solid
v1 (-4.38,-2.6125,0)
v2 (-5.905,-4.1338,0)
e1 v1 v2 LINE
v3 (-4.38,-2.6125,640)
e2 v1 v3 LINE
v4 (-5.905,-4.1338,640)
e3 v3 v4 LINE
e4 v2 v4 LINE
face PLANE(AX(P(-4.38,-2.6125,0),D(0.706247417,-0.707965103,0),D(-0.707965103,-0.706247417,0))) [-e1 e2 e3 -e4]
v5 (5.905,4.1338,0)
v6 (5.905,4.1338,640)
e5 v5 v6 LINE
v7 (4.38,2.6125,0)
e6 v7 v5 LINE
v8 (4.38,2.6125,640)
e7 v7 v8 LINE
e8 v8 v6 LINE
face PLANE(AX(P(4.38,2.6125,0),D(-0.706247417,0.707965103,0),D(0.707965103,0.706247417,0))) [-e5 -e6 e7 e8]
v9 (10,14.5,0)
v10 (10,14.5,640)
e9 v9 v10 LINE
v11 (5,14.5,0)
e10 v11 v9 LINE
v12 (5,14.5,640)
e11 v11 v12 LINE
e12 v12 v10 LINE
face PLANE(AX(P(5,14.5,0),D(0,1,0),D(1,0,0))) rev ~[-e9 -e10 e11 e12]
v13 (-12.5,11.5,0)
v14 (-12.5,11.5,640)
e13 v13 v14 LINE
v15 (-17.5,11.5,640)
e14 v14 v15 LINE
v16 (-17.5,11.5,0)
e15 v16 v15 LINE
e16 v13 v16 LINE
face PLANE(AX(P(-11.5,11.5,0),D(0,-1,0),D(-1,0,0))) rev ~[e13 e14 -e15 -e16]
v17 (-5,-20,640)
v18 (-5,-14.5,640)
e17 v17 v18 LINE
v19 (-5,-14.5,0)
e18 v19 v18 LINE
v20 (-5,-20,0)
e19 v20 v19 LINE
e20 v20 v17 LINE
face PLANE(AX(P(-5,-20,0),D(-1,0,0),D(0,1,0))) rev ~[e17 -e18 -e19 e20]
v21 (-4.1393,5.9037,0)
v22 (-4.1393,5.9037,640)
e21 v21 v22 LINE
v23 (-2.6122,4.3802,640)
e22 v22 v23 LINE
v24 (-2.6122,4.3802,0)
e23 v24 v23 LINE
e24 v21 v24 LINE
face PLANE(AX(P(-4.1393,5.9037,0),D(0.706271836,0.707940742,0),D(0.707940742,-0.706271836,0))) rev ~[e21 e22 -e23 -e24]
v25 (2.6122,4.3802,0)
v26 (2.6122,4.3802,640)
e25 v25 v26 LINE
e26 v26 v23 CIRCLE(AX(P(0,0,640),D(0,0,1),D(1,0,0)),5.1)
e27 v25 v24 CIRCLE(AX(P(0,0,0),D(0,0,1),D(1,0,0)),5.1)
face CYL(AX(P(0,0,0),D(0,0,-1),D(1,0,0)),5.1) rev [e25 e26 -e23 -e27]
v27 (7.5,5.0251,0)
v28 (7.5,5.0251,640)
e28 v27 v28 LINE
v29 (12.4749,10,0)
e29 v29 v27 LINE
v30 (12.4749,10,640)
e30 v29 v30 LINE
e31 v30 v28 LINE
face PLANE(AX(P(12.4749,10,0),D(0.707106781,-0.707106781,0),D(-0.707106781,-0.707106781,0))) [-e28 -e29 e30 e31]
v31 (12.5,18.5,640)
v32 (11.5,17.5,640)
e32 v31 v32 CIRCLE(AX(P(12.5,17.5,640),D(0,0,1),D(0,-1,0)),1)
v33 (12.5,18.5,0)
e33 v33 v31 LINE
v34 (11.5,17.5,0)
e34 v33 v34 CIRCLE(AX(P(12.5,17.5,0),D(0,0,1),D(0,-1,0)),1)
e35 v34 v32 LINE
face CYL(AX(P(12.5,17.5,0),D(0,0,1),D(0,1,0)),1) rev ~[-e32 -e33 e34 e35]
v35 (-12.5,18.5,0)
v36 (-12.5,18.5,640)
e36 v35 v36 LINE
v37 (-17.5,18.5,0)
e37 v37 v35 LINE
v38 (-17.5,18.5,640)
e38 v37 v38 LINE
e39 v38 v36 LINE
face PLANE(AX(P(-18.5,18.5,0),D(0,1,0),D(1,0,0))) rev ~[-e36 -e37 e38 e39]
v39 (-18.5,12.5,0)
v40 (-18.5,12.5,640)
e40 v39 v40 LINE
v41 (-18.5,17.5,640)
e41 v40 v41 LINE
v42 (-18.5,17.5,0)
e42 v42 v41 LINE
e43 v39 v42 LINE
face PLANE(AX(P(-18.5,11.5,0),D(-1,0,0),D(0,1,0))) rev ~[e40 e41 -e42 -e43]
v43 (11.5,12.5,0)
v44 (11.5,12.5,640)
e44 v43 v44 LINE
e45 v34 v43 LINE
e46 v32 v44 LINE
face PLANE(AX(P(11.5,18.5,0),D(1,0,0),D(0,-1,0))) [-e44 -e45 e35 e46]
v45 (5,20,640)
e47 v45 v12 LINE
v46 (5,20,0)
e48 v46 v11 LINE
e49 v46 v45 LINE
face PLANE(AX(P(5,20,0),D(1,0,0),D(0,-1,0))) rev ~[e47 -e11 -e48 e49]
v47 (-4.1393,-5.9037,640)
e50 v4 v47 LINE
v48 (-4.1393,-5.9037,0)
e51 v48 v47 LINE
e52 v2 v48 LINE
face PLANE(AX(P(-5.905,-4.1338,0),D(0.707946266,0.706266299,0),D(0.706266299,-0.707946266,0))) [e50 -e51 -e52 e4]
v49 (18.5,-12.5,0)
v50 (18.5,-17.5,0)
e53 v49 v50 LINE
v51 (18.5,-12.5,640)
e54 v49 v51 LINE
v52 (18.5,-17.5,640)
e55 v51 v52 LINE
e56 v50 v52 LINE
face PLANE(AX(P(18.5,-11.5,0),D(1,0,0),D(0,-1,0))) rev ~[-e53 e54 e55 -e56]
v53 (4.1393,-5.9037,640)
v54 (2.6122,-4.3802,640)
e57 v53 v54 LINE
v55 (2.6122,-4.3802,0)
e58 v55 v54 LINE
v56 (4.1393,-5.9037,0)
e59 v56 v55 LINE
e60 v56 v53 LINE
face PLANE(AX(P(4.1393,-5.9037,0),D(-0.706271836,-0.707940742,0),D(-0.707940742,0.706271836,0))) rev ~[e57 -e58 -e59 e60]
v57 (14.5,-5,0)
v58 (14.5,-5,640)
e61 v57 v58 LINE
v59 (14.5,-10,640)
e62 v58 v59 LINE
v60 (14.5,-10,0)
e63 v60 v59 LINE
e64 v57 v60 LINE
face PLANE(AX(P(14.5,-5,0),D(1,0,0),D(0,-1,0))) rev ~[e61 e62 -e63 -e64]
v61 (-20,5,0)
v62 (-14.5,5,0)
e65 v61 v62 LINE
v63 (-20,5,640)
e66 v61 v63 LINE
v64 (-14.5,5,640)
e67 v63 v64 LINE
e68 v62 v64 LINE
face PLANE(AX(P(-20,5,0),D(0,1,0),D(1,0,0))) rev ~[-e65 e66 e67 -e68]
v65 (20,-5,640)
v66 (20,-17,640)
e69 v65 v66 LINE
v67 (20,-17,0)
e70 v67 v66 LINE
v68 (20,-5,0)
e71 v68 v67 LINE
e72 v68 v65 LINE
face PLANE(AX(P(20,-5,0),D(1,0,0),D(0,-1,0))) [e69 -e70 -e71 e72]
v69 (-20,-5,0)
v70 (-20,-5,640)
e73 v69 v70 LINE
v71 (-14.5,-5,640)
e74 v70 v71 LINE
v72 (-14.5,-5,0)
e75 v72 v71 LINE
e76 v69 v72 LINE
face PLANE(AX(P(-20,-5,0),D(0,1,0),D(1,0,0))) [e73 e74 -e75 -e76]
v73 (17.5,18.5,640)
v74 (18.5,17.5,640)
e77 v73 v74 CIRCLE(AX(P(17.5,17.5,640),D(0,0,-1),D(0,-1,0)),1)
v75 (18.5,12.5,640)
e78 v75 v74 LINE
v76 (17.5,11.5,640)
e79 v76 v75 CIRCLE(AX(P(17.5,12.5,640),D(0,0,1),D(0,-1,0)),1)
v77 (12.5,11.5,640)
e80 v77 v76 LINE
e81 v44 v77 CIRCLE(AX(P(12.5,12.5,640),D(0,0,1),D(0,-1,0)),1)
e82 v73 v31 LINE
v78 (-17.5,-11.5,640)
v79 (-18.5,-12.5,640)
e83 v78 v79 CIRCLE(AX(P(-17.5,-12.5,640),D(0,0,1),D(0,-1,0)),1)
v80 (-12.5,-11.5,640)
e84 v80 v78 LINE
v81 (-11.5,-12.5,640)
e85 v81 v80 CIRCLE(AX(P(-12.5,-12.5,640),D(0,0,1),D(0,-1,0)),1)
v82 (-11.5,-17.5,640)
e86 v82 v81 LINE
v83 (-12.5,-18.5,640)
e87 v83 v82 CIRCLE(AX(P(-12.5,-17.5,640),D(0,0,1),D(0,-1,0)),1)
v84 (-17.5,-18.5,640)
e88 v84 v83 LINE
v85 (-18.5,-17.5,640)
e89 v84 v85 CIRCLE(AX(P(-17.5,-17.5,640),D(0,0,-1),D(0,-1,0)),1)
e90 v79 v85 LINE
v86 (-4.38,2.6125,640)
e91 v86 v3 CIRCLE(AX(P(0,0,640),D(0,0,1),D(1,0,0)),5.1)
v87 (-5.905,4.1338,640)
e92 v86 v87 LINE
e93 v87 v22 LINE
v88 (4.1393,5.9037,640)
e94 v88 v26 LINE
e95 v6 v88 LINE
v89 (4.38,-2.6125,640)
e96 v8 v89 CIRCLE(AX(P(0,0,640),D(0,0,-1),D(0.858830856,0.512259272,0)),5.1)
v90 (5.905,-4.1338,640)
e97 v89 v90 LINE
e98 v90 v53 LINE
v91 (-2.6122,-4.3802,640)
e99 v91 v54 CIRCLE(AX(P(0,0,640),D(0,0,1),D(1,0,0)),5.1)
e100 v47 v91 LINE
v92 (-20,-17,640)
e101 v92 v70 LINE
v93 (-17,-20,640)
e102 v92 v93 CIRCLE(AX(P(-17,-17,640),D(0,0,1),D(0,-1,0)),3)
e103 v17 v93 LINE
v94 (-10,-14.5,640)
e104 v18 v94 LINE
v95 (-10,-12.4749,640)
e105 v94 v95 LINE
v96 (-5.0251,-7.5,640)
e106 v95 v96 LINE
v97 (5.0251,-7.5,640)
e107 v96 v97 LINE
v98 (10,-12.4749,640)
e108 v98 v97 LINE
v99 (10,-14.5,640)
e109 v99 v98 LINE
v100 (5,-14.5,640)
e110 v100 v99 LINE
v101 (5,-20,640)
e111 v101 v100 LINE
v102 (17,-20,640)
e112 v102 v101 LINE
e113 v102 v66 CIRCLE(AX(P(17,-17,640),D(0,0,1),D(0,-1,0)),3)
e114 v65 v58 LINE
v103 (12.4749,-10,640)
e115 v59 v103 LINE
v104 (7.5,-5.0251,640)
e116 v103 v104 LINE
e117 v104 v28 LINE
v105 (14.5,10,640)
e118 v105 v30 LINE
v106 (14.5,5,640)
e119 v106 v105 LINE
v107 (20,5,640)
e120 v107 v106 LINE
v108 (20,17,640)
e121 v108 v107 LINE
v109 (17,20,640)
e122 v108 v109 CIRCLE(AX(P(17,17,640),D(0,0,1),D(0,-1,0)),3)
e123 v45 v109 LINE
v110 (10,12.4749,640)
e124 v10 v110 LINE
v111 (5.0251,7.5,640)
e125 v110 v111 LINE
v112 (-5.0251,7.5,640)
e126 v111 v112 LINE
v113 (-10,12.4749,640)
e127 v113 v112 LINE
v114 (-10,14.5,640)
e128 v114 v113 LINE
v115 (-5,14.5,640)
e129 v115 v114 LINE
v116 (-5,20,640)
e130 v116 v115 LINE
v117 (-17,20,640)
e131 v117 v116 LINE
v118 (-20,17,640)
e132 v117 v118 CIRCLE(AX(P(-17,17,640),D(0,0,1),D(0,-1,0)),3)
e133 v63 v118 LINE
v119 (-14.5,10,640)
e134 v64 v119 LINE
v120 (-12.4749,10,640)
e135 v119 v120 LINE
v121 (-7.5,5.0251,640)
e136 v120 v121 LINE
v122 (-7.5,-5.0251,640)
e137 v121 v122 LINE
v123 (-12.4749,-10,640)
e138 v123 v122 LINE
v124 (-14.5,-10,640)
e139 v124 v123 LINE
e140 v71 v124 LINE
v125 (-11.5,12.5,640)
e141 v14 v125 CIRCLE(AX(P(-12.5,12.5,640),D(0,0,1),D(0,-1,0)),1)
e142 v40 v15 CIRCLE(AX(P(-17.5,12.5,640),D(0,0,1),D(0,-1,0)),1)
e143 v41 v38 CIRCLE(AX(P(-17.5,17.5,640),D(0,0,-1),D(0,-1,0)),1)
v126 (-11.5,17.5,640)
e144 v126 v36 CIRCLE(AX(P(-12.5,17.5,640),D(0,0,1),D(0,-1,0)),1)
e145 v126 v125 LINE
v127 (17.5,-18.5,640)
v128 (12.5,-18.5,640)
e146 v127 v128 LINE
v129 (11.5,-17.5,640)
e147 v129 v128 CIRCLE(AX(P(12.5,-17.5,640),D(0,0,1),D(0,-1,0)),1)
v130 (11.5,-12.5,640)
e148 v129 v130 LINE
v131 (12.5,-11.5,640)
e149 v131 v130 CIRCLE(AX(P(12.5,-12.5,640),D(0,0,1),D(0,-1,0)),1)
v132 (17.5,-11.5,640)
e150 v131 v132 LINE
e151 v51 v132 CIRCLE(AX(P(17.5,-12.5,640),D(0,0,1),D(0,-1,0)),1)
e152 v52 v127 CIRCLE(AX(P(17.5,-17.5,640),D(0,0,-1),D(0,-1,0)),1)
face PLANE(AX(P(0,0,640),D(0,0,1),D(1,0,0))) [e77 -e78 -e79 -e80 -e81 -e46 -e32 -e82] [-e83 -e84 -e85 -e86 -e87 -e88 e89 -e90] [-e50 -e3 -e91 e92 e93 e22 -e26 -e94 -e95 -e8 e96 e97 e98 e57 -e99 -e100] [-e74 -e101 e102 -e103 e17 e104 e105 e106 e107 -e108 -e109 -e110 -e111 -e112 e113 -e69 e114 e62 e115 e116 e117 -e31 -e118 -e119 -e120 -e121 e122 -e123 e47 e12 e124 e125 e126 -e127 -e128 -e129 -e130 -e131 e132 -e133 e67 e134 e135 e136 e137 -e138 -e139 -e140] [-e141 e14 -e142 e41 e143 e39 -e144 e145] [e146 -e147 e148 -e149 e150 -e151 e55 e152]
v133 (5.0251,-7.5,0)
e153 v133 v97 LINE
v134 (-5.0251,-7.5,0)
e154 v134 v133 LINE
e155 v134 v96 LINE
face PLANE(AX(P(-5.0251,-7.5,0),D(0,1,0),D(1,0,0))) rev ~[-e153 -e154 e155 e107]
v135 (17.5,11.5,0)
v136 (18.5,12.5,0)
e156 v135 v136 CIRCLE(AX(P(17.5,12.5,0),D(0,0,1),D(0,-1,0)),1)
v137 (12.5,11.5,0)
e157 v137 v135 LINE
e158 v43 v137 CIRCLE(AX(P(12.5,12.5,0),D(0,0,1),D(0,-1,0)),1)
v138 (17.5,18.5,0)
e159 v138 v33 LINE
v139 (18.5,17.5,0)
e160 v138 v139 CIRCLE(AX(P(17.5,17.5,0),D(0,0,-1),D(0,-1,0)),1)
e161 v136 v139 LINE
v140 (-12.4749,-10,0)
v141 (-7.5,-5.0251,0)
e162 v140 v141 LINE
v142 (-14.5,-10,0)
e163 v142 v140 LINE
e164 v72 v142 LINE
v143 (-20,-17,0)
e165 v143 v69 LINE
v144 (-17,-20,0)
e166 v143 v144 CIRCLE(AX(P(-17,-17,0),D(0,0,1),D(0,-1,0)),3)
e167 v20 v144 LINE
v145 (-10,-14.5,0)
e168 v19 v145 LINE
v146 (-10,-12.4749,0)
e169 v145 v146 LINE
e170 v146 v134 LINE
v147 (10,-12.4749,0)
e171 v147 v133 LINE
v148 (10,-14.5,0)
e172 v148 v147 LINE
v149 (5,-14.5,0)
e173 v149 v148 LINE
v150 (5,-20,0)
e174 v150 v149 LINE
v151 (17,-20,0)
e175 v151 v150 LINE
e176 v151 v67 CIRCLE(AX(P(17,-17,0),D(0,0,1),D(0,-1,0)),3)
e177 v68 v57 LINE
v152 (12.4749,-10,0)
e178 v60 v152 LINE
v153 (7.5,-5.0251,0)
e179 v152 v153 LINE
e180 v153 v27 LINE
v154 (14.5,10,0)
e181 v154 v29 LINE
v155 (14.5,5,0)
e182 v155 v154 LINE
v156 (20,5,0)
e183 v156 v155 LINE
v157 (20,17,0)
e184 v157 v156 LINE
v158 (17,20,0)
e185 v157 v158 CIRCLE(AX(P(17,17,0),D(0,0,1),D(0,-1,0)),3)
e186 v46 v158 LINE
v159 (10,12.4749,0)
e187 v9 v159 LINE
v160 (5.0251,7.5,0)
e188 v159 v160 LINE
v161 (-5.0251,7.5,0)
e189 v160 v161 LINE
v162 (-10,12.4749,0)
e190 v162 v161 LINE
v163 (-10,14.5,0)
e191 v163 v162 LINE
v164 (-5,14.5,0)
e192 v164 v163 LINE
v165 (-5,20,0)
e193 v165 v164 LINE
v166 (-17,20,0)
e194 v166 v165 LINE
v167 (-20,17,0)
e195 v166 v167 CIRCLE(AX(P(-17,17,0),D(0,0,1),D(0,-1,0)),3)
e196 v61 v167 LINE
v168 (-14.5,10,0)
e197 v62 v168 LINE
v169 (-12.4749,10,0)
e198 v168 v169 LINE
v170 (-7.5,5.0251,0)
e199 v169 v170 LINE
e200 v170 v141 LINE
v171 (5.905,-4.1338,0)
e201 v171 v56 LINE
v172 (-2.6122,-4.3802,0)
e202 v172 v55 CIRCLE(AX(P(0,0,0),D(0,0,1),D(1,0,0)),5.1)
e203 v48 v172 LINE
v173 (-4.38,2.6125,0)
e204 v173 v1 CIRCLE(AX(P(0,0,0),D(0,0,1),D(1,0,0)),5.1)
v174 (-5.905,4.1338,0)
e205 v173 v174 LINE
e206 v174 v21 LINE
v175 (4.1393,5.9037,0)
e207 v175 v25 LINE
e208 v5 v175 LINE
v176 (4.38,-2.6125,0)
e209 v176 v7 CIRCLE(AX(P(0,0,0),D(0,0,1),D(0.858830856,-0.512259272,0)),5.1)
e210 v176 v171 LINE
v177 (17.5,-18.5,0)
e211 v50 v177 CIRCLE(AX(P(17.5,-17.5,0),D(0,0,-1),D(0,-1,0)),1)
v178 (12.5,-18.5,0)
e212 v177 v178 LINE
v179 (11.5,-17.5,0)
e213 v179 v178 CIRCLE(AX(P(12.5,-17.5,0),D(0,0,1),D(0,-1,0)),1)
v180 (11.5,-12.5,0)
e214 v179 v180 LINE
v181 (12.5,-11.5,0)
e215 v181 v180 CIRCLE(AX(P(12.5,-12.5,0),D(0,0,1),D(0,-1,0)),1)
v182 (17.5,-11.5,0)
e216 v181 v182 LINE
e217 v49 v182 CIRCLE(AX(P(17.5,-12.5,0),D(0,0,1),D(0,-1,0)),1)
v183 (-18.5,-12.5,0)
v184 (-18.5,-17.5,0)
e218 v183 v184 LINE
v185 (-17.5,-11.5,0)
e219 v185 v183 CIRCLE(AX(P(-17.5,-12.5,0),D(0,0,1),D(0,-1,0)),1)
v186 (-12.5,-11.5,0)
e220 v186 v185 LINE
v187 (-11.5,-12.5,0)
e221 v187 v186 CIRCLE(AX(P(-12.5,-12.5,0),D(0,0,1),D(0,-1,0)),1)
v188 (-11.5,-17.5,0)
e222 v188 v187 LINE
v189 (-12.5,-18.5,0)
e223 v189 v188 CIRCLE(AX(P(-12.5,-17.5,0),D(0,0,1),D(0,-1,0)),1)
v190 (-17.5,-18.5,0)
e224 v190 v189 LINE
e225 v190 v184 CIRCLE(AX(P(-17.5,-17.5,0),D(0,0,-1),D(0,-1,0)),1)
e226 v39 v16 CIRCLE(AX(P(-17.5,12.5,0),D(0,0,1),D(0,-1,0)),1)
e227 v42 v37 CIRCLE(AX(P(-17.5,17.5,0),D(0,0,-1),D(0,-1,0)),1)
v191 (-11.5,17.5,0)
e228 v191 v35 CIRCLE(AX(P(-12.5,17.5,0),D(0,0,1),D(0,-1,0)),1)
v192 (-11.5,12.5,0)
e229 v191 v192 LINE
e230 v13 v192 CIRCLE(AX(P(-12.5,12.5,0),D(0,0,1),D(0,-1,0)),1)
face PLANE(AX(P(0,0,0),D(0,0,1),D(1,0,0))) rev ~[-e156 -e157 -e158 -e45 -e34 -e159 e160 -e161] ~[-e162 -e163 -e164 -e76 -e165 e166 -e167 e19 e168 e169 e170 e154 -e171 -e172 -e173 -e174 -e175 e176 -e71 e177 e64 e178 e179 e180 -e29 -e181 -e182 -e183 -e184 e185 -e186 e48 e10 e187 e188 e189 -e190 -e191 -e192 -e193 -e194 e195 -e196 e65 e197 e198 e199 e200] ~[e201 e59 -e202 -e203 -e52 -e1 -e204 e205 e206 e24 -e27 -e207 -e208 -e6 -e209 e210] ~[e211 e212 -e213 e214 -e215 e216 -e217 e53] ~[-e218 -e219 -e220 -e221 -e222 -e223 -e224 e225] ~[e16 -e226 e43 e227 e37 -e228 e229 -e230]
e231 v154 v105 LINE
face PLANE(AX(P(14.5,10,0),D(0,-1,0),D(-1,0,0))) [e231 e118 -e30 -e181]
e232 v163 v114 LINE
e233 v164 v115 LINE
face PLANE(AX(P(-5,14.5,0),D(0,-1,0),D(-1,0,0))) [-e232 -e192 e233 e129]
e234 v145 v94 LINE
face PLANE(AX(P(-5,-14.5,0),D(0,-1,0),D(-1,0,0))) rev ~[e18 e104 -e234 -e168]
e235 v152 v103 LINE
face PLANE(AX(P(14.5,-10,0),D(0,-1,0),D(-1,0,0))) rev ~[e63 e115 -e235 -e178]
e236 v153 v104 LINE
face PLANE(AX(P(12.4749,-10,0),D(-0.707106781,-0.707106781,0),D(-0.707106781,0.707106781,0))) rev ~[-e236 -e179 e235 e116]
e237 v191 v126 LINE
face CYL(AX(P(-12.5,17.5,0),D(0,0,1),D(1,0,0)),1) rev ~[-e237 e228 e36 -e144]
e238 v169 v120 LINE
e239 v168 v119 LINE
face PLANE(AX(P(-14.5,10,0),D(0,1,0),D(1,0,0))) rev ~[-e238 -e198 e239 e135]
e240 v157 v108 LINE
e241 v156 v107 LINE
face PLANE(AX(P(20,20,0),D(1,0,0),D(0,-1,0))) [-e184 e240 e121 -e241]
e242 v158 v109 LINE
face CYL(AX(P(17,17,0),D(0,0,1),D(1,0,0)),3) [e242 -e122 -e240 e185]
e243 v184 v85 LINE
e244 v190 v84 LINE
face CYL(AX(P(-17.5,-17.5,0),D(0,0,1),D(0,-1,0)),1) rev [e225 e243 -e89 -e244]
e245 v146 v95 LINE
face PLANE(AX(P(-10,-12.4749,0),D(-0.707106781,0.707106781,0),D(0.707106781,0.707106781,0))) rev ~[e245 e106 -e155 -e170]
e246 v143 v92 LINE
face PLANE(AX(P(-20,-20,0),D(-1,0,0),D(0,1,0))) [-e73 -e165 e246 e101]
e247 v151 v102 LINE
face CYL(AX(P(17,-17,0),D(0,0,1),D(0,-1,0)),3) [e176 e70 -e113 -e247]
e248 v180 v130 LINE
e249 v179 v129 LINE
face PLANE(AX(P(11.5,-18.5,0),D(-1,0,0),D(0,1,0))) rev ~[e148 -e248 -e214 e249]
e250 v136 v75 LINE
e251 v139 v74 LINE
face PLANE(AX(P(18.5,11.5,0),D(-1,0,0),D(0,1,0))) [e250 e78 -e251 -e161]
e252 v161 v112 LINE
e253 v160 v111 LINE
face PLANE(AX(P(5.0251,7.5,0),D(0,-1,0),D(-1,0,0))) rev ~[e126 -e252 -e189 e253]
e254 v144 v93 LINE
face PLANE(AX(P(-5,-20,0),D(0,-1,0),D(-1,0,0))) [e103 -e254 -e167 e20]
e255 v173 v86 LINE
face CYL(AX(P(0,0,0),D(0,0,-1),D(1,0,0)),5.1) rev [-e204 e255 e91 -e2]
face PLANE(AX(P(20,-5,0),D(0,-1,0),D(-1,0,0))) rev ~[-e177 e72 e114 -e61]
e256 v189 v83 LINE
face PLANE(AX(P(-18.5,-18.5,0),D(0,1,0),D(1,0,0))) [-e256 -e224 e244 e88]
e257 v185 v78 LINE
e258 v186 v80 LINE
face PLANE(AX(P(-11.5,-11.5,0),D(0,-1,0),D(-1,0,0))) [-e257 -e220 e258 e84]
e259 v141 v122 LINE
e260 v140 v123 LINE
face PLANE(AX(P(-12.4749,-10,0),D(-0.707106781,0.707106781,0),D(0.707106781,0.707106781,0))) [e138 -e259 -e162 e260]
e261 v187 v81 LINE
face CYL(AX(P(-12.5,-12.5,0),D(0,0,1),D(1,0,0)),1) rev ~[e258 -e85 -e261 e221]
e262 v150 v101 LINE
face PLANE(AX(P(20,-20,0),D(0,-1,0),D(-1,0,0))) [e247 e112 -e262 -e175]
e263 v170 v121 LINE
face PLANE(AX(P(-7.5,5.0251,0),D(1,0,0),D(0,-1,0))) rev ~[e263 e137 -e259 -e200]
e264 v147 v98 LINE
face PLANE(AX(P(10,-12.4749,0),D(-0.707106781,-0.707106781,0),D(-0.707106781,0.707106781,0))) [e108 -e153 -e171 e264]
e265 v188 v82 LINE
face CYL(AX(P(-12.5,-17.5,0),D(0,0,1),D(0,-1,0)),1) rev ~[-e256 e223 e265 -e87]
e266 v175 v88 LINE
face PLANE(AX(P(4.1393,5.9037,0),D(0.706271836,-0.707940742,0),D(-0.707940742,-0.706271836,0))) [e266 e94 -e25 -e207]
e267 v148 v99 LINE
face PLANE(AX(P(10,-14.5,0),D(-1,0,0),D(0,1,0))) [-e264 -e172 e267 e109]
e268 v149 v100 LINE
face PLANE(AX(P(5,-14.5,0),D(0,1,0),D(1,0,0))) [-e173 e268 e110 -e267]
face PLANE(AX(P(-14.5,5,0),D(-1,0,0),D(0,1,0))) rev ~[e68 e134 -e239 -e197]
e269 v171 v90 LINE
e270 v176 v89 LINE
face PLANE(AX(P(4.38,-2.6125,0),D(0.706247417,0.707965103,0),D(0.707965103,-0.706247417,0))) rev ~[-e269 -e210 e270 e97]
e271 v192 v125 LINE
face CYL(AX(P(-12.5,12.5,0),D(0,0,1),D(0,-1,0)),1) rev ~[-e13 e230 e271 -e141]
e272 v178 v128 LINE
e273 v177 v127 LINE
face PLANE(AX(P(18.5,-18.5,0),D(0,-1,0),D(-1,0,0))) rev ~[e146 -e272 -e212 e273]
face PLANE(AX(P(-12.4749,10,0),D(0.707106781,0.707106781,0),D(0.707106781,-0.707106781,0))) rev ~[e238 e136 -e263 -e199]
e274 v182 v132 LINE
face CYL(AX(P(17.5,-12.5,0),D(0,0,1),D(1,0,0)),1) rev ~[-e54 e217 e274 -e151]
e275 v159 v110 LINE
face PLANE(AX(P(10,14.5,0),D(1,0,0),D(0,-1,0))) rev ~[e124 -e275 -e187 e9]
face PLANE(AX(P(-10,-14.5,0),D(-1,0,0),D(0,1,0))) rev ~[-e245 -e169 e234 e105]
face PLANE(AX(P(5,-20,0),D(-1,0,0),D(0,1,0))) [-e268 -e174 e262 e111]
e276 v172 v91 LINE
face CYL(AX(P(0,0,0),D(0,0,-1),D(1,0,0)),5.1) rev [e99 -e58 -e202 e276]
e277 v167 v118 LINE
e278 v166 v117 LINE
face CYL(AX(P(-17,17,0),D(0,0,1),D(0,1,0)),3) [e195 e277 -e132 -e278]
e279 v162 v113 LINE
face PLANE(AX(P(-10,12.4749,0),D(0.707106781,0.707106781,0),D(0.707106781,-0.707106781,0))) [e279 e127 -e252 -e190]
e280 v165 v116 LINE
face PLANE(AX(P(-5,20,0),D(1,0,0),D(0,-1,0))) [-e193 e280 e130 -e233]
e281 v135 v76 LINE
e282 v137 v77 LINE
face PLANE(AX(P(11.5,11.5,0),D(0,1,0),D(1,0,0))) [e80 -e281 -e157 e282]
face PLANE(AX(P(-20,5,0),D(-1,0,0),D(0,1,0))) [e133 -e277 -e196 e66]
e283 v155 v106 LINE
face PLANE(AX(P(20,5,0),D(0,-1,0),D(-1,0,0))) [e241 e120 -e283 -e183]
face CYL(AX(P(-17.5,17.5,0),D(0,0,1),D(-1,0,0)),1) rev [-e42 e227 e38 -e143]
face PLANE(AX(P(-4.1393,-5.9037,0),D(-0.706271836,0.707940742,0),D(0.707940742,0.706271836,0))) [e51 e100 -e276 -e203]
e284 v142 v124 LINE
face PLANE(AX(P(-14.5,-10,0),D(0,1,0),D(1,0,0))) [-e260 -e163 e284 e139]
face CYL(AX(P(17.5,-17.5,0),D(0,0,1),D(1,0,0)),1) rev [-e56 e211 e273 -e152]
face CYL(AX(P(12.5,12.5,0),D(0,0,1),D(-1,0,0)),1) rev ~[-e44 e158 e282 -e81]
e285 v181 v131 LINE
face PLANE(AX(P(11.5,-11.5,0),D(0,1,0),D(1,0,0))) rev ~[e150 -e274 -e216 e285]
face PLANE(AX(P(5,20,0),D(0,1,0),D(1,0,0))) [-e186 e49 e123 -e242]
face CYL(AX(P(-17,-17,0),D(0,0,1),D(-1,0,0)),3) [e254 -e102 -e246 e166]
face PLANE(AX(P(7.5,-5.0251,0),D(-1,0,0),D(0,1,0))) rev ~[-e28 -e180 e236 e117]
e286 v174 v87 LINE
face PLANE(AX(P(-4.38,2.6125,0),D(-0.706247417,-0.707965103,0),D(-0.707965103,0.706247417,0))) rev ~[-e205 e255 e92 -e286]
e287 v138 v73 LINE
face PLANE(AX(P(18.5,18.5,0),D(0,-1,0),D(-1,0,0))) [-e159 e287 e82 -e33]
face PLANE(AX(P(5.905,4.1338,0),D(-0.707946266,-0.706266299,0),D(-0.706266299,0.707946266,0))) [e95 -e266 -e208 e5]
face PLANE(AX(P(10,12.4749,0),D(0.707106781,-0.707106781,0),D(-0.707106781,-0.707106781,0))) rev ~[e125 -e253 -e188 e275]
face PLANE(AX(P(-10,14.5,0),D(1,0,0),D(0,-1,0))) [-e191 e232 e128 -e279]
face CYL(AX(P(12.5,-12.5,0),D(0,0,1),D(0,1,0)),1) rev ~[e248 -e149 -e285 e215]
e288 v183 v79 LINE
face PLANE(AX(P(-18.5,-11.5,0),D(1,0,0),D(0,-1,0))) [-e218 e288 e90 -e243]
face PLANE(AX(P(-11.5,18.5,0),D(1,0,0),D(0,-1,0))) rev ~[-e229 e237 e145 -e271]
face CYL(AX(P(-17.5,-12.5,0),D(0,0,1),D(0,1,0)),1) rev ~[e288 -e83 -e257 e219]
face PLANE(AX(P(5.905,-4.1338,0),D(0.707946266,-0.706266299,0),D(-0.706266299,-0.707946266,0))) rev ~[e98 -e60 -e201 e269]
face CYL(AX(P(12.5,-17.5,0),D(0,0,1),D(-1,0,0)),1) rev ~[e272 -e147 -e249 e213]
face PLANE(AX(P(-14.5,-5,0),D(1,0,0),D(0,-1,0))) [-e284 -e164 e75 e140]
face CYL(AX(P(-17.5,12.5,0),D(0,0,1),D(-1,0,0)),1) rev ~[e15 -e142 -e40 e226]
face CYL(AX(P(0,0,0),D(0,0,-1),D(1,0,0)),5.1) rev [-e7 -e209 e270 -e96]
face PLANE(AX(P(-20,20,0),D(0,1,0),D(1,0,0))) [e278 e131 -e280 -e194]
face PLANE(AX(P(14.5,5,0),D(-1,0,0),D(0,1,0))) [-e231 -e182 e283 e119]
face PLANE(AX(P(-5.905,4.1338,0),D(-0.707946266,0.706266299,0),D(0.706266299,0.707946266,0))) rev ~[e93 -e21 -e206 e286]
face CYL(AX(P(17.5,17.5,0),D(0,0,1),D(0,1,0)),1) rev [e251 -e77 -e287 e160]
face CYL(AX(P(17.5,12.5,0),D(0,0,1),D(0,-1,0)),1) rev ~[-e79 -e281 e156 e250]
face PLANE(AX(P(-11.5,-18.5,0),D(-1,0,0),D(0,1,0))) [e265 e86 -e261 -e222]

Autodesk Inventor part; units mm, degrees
ref_plane "YZ Plane" through (0, 0, 0) normal (1, 0, 0) x (0, 1, 0)
ref_plane "XZ Plane" through (0, 0, 0) normal (0, 1, 0) x (-1, 0, 0)
ref_plane "XY Plane" through (0, 0, 0) normal (0, 0, 1) x (1, 0, 0)
sketch "T-Slot 4040 Base" plane through (0, 0, 0) normal (0, 0, 1) x (1, 0, 0)
  line L0 (-28, 0) -> (28, 0) construction
  line L1 (0, -28) -> (0, 28) construction
  circle A0 centre (0, 0) radius 5.1
  line L2 (-7.5, -7.5) -> (7.5, -7.5)
  line L3 (7.5, -7.5) -> (7.5, 7.5)
  line L4 (7.5, 7.5) -> (-7.5, 7.5)
  line L5 (-7.5, 7.5) -> (-7.5, -7.5)
  line L6 (-7.5, -7.5) -> (7.5, 7.5) construction
  line L7 (7.5, -7.5) -> (-7.5, 7.5) construction
  line L8 (-20, 20) -> (20, 20)
  line L9 (20, 20) -> (20, -20)
  line L10 (20, -20) -> (-20, -20)
  line L11 (-20, -20) -> (-20, 20)
  line L12 (-20, 20) -> (20, -20) construction
  line L13 (20, 20) -> (-20, -20) construction
  line L14 (20, 5) -> (14.5, 5)
  line L15 (14.5, 5) -> (14.5, 10)
  line L16 (14.5, 10) -> (12.4749, 10)
  line L17 (12.4749, 10) -> (7.5, 5.0251)
  line L18 (5, 20) -> (5, 14.5)
  line L19 (5, 14.5) -> (10, 14.5)
  line L20 (10, 14.5) -> (10, 12.4749)
  line L21 (10, 12.4749) -> (5.0251, 7.5)
  line L22 (18.5, 18.5) -> (11.5, 18.5)
  line L23 (11.5, 18.5) -> (11.5, 11.5)
  line L24 (11.5, 11.5) -> (18.5, 11.5)
  line L25 (18.5, 11.5) -> (18.5, 18.5)
  line L26 (18.5, 18.5) -> (11.5, 11.5) construction
  line L27 (11.5, 18.5) -> (18.5, 11.5) construction
  line L28 (3.0732, 1.3088) -> (4.38, 2.6125) construction
  line L29 (5.905, 4.1338) -> (4.1393, 5.9037)
  line L30 (4.1393, 5.9037) -> (2.6122, 4.3802)
  line L31 (1.3075, 3.0787) -> (3.0732, 1.3088) construction
  line L32 (3.0732, 1.3088) -> (4.1393, 5.9037) construction
  line L33 (5.905, 4.1338) -> (1.3075, 3.0787) construction
  line L34 (4.38, 2.6125) -> (5.905, 4.1338)
  line L35 (2.6122, 4.3802) -> (1.3075, 3.0787) construction
  line L36 (-20, 5) -> (-14.5, 5)
  line L37 (-14.5, 5) -> (-14.5, 10)
  line L38 (-14.5, 10) -> (-12.4749, 10)
  line L39 (-12.4749, 10) -> (-7.5, 5.0251)
  line L40 (-5, 20) -> (-5, 14.5)
  line L41 (-5, 14.5) -> (-10, 14.5)
  line L42 (-10, 14.5) -> (-10, 12.4749)
  line L43 (-10, 12.4749) -> (-5.0251, 7.5)
  line L44 (-18.5, 18.5) -> (-11.5, 18.5)
  line L45 (-11.5, 18.5) -> (-11.5, 11.5)
  line L46 (-11.5, 11.5) -> (-18.5, 11.5)
  line L47 (-18.5, 11.5) -> (-18.5, 18.5)
  line L48 (-5.905, 4.1338) -> (-4.1393, 5.9037)
  line L49 (-4.1393, 5.9037) -> (-2.6122, 4.3802)
  line L50 (-4.38, 2.6125) -> (-5.905, 4.1338)
  line L51 (7.5, -7.5) -> (-7.5, -7.5)
  line L52 (20, -5) -> (14.5, -5)
  line L53 (14.5, -5) -> (14.5, -10)
  line L54 (14.5, -10) -> (12.4749, -10)
  line L55 (12.4749, -10) -> (7.5, -5.0251)
  line L56 (5, -20) -> (5, -14.5)
  line L57 (5, -14.5) -> (10, -14.5)
  line L58 (10, -14.5) -> (10, -12.4749)
  line L59 (10, -12.4749) -> (5.0251, -7.5)
  line L60 (18.5, -18.5) -> (11.5, -18.5)
  line L61 (11.5, -18.5) -> (11.5, -11.5)
  line L62 (11.5, -11.5) -> (18.5, -11.5)
  line L63 (18.5, -11.5) -> (18.5, -18.5)
  line L64 (18.5, -18.5) -> (11.5, -11.5) construction
  line L65 (11.5, -18.5) -> (18.5, -11.5) construction
  line L66 (3.0732, -1.3088) -> (4.38, -2.6125) construction
  line L67 (5.905, -4.1338) -> (4.1393, -5.9037)
  line L68 (4.1393, -5.9037) -> (2.6122, -4.3802)
  line L69 (1.3075, -3.0787) -> (3.0732, -1.3088) construction
  line L70 (3.0732, -1.3088) -> (4.1393, -5.9037) construction
  line L71 (5.905, -4.1338) -> (1.3075, -3.0787) construction
  line L72 (4.38, -2.6125) -> (5.905, -4.1338)
  line L73 (2.6122, -4.3802) -> (1.3075, -3.0787) construction
  line L74 (-4.38, -2.6125) -> (-5.905, -4.1338)
  line L75 (-4.1393, -5.9037) -> (-2.6122, -4.3802)
  line L76 (-5.905, -4.1338) -> (-4.1393, -5.9037)
  line L77 (-12.4749, -10) -> (-7.5, -5.0251)
  line L78 (-10, -12.4749) -> (-5.0251, -7.5)
  line L79 (-10, -14.5) -> (-10, -12.4749)
  line L80 (-5, -14.5) -> (-10, -14.5)
  line L81 (-5, -20) -> (-5, -14.5)
  line L82 (-18.5, -18.5) -> (-11.5, -18.5)
  line L83 (-11.5, -18.5) -> (-11.5, -11.5)
  line L84 (-11.5, -11.5) -> (-18.5, -11.5)
  line L85 (-18.5, -11.5) -> (-18.5, -18.5)
  line L86 (-14.5, -10) -> (-12.4749, -10)
  line L87 (-14.5, -5) -> (-14.5, -10)
  line L88 (-20, -5) -> (-14.5, -5)
  point P0 (15, 15)
  point P1 (3.6062, 3.6062)
  point P2 (3.6062, 3.6062)
  point P3 (15, -15)
  point P4 (3.6062, -3.6062)
  point P5 (3.6062, -3.6062)
  dimension "d9" = 10.2
  dimension "d12" = 40
  dimension "d13" = 40
  dimension "d14" = 5.5
  dimension "d15" = 15
  dimension "d16" = 7
  dimension "d17" = 10
  dimension "d20" = 1.75
  dimension "d21" = 7
  dimension "d22" = 2
  dimension "d29" = 1.5
  dimension "d30" = 2.5
extrude "Extrusion1" add sketch "T-Slot 4040 Base" along normal blind 640 contours L5 L4 L3 L2 | L2 L78 L79 L80 L81 L10 L11 L88 L87 L86 L77 L5 | L2 L3 L55 L54 L53 L52 L9 L10 L56 L57 L58 L59 | L39 L38 L37 L36 L11 L8 L40 L41 L42 L43 L4 L5 | L3 L4 L21 L20 L19 L18 L8 L9 L14 L15 L16 L17
fillet "Rundung1" radius 1 16 edges at (11.5, 18.5, 320) (18.5, 18.5, 320) (18.5, 11.5, 320) (11.5, 11.5, 320) (-11.5, 18.5, 320) (-18.5, 18.5, 320) (-18.5, 11.5, 320) (-11.5, 11.5, 320) (-18.5, -11.5, 320) (-11.5, -11.5, 320) (-11.5, -18.5, 320) (-18.5, -18.5, 320) (11.5, -18.5, 320) (11.5, -11.5, 320) (18.5, -11.5, 320) (18.5, -18.5, 320)
fillet "Rundung2" radius 3 4 edges at (20, 20, 320) (20, -20, 320) (-20, -20, 320) (-20, 20, 320)
properties part number "T-SLOT 4040 B-Type 640mm"
